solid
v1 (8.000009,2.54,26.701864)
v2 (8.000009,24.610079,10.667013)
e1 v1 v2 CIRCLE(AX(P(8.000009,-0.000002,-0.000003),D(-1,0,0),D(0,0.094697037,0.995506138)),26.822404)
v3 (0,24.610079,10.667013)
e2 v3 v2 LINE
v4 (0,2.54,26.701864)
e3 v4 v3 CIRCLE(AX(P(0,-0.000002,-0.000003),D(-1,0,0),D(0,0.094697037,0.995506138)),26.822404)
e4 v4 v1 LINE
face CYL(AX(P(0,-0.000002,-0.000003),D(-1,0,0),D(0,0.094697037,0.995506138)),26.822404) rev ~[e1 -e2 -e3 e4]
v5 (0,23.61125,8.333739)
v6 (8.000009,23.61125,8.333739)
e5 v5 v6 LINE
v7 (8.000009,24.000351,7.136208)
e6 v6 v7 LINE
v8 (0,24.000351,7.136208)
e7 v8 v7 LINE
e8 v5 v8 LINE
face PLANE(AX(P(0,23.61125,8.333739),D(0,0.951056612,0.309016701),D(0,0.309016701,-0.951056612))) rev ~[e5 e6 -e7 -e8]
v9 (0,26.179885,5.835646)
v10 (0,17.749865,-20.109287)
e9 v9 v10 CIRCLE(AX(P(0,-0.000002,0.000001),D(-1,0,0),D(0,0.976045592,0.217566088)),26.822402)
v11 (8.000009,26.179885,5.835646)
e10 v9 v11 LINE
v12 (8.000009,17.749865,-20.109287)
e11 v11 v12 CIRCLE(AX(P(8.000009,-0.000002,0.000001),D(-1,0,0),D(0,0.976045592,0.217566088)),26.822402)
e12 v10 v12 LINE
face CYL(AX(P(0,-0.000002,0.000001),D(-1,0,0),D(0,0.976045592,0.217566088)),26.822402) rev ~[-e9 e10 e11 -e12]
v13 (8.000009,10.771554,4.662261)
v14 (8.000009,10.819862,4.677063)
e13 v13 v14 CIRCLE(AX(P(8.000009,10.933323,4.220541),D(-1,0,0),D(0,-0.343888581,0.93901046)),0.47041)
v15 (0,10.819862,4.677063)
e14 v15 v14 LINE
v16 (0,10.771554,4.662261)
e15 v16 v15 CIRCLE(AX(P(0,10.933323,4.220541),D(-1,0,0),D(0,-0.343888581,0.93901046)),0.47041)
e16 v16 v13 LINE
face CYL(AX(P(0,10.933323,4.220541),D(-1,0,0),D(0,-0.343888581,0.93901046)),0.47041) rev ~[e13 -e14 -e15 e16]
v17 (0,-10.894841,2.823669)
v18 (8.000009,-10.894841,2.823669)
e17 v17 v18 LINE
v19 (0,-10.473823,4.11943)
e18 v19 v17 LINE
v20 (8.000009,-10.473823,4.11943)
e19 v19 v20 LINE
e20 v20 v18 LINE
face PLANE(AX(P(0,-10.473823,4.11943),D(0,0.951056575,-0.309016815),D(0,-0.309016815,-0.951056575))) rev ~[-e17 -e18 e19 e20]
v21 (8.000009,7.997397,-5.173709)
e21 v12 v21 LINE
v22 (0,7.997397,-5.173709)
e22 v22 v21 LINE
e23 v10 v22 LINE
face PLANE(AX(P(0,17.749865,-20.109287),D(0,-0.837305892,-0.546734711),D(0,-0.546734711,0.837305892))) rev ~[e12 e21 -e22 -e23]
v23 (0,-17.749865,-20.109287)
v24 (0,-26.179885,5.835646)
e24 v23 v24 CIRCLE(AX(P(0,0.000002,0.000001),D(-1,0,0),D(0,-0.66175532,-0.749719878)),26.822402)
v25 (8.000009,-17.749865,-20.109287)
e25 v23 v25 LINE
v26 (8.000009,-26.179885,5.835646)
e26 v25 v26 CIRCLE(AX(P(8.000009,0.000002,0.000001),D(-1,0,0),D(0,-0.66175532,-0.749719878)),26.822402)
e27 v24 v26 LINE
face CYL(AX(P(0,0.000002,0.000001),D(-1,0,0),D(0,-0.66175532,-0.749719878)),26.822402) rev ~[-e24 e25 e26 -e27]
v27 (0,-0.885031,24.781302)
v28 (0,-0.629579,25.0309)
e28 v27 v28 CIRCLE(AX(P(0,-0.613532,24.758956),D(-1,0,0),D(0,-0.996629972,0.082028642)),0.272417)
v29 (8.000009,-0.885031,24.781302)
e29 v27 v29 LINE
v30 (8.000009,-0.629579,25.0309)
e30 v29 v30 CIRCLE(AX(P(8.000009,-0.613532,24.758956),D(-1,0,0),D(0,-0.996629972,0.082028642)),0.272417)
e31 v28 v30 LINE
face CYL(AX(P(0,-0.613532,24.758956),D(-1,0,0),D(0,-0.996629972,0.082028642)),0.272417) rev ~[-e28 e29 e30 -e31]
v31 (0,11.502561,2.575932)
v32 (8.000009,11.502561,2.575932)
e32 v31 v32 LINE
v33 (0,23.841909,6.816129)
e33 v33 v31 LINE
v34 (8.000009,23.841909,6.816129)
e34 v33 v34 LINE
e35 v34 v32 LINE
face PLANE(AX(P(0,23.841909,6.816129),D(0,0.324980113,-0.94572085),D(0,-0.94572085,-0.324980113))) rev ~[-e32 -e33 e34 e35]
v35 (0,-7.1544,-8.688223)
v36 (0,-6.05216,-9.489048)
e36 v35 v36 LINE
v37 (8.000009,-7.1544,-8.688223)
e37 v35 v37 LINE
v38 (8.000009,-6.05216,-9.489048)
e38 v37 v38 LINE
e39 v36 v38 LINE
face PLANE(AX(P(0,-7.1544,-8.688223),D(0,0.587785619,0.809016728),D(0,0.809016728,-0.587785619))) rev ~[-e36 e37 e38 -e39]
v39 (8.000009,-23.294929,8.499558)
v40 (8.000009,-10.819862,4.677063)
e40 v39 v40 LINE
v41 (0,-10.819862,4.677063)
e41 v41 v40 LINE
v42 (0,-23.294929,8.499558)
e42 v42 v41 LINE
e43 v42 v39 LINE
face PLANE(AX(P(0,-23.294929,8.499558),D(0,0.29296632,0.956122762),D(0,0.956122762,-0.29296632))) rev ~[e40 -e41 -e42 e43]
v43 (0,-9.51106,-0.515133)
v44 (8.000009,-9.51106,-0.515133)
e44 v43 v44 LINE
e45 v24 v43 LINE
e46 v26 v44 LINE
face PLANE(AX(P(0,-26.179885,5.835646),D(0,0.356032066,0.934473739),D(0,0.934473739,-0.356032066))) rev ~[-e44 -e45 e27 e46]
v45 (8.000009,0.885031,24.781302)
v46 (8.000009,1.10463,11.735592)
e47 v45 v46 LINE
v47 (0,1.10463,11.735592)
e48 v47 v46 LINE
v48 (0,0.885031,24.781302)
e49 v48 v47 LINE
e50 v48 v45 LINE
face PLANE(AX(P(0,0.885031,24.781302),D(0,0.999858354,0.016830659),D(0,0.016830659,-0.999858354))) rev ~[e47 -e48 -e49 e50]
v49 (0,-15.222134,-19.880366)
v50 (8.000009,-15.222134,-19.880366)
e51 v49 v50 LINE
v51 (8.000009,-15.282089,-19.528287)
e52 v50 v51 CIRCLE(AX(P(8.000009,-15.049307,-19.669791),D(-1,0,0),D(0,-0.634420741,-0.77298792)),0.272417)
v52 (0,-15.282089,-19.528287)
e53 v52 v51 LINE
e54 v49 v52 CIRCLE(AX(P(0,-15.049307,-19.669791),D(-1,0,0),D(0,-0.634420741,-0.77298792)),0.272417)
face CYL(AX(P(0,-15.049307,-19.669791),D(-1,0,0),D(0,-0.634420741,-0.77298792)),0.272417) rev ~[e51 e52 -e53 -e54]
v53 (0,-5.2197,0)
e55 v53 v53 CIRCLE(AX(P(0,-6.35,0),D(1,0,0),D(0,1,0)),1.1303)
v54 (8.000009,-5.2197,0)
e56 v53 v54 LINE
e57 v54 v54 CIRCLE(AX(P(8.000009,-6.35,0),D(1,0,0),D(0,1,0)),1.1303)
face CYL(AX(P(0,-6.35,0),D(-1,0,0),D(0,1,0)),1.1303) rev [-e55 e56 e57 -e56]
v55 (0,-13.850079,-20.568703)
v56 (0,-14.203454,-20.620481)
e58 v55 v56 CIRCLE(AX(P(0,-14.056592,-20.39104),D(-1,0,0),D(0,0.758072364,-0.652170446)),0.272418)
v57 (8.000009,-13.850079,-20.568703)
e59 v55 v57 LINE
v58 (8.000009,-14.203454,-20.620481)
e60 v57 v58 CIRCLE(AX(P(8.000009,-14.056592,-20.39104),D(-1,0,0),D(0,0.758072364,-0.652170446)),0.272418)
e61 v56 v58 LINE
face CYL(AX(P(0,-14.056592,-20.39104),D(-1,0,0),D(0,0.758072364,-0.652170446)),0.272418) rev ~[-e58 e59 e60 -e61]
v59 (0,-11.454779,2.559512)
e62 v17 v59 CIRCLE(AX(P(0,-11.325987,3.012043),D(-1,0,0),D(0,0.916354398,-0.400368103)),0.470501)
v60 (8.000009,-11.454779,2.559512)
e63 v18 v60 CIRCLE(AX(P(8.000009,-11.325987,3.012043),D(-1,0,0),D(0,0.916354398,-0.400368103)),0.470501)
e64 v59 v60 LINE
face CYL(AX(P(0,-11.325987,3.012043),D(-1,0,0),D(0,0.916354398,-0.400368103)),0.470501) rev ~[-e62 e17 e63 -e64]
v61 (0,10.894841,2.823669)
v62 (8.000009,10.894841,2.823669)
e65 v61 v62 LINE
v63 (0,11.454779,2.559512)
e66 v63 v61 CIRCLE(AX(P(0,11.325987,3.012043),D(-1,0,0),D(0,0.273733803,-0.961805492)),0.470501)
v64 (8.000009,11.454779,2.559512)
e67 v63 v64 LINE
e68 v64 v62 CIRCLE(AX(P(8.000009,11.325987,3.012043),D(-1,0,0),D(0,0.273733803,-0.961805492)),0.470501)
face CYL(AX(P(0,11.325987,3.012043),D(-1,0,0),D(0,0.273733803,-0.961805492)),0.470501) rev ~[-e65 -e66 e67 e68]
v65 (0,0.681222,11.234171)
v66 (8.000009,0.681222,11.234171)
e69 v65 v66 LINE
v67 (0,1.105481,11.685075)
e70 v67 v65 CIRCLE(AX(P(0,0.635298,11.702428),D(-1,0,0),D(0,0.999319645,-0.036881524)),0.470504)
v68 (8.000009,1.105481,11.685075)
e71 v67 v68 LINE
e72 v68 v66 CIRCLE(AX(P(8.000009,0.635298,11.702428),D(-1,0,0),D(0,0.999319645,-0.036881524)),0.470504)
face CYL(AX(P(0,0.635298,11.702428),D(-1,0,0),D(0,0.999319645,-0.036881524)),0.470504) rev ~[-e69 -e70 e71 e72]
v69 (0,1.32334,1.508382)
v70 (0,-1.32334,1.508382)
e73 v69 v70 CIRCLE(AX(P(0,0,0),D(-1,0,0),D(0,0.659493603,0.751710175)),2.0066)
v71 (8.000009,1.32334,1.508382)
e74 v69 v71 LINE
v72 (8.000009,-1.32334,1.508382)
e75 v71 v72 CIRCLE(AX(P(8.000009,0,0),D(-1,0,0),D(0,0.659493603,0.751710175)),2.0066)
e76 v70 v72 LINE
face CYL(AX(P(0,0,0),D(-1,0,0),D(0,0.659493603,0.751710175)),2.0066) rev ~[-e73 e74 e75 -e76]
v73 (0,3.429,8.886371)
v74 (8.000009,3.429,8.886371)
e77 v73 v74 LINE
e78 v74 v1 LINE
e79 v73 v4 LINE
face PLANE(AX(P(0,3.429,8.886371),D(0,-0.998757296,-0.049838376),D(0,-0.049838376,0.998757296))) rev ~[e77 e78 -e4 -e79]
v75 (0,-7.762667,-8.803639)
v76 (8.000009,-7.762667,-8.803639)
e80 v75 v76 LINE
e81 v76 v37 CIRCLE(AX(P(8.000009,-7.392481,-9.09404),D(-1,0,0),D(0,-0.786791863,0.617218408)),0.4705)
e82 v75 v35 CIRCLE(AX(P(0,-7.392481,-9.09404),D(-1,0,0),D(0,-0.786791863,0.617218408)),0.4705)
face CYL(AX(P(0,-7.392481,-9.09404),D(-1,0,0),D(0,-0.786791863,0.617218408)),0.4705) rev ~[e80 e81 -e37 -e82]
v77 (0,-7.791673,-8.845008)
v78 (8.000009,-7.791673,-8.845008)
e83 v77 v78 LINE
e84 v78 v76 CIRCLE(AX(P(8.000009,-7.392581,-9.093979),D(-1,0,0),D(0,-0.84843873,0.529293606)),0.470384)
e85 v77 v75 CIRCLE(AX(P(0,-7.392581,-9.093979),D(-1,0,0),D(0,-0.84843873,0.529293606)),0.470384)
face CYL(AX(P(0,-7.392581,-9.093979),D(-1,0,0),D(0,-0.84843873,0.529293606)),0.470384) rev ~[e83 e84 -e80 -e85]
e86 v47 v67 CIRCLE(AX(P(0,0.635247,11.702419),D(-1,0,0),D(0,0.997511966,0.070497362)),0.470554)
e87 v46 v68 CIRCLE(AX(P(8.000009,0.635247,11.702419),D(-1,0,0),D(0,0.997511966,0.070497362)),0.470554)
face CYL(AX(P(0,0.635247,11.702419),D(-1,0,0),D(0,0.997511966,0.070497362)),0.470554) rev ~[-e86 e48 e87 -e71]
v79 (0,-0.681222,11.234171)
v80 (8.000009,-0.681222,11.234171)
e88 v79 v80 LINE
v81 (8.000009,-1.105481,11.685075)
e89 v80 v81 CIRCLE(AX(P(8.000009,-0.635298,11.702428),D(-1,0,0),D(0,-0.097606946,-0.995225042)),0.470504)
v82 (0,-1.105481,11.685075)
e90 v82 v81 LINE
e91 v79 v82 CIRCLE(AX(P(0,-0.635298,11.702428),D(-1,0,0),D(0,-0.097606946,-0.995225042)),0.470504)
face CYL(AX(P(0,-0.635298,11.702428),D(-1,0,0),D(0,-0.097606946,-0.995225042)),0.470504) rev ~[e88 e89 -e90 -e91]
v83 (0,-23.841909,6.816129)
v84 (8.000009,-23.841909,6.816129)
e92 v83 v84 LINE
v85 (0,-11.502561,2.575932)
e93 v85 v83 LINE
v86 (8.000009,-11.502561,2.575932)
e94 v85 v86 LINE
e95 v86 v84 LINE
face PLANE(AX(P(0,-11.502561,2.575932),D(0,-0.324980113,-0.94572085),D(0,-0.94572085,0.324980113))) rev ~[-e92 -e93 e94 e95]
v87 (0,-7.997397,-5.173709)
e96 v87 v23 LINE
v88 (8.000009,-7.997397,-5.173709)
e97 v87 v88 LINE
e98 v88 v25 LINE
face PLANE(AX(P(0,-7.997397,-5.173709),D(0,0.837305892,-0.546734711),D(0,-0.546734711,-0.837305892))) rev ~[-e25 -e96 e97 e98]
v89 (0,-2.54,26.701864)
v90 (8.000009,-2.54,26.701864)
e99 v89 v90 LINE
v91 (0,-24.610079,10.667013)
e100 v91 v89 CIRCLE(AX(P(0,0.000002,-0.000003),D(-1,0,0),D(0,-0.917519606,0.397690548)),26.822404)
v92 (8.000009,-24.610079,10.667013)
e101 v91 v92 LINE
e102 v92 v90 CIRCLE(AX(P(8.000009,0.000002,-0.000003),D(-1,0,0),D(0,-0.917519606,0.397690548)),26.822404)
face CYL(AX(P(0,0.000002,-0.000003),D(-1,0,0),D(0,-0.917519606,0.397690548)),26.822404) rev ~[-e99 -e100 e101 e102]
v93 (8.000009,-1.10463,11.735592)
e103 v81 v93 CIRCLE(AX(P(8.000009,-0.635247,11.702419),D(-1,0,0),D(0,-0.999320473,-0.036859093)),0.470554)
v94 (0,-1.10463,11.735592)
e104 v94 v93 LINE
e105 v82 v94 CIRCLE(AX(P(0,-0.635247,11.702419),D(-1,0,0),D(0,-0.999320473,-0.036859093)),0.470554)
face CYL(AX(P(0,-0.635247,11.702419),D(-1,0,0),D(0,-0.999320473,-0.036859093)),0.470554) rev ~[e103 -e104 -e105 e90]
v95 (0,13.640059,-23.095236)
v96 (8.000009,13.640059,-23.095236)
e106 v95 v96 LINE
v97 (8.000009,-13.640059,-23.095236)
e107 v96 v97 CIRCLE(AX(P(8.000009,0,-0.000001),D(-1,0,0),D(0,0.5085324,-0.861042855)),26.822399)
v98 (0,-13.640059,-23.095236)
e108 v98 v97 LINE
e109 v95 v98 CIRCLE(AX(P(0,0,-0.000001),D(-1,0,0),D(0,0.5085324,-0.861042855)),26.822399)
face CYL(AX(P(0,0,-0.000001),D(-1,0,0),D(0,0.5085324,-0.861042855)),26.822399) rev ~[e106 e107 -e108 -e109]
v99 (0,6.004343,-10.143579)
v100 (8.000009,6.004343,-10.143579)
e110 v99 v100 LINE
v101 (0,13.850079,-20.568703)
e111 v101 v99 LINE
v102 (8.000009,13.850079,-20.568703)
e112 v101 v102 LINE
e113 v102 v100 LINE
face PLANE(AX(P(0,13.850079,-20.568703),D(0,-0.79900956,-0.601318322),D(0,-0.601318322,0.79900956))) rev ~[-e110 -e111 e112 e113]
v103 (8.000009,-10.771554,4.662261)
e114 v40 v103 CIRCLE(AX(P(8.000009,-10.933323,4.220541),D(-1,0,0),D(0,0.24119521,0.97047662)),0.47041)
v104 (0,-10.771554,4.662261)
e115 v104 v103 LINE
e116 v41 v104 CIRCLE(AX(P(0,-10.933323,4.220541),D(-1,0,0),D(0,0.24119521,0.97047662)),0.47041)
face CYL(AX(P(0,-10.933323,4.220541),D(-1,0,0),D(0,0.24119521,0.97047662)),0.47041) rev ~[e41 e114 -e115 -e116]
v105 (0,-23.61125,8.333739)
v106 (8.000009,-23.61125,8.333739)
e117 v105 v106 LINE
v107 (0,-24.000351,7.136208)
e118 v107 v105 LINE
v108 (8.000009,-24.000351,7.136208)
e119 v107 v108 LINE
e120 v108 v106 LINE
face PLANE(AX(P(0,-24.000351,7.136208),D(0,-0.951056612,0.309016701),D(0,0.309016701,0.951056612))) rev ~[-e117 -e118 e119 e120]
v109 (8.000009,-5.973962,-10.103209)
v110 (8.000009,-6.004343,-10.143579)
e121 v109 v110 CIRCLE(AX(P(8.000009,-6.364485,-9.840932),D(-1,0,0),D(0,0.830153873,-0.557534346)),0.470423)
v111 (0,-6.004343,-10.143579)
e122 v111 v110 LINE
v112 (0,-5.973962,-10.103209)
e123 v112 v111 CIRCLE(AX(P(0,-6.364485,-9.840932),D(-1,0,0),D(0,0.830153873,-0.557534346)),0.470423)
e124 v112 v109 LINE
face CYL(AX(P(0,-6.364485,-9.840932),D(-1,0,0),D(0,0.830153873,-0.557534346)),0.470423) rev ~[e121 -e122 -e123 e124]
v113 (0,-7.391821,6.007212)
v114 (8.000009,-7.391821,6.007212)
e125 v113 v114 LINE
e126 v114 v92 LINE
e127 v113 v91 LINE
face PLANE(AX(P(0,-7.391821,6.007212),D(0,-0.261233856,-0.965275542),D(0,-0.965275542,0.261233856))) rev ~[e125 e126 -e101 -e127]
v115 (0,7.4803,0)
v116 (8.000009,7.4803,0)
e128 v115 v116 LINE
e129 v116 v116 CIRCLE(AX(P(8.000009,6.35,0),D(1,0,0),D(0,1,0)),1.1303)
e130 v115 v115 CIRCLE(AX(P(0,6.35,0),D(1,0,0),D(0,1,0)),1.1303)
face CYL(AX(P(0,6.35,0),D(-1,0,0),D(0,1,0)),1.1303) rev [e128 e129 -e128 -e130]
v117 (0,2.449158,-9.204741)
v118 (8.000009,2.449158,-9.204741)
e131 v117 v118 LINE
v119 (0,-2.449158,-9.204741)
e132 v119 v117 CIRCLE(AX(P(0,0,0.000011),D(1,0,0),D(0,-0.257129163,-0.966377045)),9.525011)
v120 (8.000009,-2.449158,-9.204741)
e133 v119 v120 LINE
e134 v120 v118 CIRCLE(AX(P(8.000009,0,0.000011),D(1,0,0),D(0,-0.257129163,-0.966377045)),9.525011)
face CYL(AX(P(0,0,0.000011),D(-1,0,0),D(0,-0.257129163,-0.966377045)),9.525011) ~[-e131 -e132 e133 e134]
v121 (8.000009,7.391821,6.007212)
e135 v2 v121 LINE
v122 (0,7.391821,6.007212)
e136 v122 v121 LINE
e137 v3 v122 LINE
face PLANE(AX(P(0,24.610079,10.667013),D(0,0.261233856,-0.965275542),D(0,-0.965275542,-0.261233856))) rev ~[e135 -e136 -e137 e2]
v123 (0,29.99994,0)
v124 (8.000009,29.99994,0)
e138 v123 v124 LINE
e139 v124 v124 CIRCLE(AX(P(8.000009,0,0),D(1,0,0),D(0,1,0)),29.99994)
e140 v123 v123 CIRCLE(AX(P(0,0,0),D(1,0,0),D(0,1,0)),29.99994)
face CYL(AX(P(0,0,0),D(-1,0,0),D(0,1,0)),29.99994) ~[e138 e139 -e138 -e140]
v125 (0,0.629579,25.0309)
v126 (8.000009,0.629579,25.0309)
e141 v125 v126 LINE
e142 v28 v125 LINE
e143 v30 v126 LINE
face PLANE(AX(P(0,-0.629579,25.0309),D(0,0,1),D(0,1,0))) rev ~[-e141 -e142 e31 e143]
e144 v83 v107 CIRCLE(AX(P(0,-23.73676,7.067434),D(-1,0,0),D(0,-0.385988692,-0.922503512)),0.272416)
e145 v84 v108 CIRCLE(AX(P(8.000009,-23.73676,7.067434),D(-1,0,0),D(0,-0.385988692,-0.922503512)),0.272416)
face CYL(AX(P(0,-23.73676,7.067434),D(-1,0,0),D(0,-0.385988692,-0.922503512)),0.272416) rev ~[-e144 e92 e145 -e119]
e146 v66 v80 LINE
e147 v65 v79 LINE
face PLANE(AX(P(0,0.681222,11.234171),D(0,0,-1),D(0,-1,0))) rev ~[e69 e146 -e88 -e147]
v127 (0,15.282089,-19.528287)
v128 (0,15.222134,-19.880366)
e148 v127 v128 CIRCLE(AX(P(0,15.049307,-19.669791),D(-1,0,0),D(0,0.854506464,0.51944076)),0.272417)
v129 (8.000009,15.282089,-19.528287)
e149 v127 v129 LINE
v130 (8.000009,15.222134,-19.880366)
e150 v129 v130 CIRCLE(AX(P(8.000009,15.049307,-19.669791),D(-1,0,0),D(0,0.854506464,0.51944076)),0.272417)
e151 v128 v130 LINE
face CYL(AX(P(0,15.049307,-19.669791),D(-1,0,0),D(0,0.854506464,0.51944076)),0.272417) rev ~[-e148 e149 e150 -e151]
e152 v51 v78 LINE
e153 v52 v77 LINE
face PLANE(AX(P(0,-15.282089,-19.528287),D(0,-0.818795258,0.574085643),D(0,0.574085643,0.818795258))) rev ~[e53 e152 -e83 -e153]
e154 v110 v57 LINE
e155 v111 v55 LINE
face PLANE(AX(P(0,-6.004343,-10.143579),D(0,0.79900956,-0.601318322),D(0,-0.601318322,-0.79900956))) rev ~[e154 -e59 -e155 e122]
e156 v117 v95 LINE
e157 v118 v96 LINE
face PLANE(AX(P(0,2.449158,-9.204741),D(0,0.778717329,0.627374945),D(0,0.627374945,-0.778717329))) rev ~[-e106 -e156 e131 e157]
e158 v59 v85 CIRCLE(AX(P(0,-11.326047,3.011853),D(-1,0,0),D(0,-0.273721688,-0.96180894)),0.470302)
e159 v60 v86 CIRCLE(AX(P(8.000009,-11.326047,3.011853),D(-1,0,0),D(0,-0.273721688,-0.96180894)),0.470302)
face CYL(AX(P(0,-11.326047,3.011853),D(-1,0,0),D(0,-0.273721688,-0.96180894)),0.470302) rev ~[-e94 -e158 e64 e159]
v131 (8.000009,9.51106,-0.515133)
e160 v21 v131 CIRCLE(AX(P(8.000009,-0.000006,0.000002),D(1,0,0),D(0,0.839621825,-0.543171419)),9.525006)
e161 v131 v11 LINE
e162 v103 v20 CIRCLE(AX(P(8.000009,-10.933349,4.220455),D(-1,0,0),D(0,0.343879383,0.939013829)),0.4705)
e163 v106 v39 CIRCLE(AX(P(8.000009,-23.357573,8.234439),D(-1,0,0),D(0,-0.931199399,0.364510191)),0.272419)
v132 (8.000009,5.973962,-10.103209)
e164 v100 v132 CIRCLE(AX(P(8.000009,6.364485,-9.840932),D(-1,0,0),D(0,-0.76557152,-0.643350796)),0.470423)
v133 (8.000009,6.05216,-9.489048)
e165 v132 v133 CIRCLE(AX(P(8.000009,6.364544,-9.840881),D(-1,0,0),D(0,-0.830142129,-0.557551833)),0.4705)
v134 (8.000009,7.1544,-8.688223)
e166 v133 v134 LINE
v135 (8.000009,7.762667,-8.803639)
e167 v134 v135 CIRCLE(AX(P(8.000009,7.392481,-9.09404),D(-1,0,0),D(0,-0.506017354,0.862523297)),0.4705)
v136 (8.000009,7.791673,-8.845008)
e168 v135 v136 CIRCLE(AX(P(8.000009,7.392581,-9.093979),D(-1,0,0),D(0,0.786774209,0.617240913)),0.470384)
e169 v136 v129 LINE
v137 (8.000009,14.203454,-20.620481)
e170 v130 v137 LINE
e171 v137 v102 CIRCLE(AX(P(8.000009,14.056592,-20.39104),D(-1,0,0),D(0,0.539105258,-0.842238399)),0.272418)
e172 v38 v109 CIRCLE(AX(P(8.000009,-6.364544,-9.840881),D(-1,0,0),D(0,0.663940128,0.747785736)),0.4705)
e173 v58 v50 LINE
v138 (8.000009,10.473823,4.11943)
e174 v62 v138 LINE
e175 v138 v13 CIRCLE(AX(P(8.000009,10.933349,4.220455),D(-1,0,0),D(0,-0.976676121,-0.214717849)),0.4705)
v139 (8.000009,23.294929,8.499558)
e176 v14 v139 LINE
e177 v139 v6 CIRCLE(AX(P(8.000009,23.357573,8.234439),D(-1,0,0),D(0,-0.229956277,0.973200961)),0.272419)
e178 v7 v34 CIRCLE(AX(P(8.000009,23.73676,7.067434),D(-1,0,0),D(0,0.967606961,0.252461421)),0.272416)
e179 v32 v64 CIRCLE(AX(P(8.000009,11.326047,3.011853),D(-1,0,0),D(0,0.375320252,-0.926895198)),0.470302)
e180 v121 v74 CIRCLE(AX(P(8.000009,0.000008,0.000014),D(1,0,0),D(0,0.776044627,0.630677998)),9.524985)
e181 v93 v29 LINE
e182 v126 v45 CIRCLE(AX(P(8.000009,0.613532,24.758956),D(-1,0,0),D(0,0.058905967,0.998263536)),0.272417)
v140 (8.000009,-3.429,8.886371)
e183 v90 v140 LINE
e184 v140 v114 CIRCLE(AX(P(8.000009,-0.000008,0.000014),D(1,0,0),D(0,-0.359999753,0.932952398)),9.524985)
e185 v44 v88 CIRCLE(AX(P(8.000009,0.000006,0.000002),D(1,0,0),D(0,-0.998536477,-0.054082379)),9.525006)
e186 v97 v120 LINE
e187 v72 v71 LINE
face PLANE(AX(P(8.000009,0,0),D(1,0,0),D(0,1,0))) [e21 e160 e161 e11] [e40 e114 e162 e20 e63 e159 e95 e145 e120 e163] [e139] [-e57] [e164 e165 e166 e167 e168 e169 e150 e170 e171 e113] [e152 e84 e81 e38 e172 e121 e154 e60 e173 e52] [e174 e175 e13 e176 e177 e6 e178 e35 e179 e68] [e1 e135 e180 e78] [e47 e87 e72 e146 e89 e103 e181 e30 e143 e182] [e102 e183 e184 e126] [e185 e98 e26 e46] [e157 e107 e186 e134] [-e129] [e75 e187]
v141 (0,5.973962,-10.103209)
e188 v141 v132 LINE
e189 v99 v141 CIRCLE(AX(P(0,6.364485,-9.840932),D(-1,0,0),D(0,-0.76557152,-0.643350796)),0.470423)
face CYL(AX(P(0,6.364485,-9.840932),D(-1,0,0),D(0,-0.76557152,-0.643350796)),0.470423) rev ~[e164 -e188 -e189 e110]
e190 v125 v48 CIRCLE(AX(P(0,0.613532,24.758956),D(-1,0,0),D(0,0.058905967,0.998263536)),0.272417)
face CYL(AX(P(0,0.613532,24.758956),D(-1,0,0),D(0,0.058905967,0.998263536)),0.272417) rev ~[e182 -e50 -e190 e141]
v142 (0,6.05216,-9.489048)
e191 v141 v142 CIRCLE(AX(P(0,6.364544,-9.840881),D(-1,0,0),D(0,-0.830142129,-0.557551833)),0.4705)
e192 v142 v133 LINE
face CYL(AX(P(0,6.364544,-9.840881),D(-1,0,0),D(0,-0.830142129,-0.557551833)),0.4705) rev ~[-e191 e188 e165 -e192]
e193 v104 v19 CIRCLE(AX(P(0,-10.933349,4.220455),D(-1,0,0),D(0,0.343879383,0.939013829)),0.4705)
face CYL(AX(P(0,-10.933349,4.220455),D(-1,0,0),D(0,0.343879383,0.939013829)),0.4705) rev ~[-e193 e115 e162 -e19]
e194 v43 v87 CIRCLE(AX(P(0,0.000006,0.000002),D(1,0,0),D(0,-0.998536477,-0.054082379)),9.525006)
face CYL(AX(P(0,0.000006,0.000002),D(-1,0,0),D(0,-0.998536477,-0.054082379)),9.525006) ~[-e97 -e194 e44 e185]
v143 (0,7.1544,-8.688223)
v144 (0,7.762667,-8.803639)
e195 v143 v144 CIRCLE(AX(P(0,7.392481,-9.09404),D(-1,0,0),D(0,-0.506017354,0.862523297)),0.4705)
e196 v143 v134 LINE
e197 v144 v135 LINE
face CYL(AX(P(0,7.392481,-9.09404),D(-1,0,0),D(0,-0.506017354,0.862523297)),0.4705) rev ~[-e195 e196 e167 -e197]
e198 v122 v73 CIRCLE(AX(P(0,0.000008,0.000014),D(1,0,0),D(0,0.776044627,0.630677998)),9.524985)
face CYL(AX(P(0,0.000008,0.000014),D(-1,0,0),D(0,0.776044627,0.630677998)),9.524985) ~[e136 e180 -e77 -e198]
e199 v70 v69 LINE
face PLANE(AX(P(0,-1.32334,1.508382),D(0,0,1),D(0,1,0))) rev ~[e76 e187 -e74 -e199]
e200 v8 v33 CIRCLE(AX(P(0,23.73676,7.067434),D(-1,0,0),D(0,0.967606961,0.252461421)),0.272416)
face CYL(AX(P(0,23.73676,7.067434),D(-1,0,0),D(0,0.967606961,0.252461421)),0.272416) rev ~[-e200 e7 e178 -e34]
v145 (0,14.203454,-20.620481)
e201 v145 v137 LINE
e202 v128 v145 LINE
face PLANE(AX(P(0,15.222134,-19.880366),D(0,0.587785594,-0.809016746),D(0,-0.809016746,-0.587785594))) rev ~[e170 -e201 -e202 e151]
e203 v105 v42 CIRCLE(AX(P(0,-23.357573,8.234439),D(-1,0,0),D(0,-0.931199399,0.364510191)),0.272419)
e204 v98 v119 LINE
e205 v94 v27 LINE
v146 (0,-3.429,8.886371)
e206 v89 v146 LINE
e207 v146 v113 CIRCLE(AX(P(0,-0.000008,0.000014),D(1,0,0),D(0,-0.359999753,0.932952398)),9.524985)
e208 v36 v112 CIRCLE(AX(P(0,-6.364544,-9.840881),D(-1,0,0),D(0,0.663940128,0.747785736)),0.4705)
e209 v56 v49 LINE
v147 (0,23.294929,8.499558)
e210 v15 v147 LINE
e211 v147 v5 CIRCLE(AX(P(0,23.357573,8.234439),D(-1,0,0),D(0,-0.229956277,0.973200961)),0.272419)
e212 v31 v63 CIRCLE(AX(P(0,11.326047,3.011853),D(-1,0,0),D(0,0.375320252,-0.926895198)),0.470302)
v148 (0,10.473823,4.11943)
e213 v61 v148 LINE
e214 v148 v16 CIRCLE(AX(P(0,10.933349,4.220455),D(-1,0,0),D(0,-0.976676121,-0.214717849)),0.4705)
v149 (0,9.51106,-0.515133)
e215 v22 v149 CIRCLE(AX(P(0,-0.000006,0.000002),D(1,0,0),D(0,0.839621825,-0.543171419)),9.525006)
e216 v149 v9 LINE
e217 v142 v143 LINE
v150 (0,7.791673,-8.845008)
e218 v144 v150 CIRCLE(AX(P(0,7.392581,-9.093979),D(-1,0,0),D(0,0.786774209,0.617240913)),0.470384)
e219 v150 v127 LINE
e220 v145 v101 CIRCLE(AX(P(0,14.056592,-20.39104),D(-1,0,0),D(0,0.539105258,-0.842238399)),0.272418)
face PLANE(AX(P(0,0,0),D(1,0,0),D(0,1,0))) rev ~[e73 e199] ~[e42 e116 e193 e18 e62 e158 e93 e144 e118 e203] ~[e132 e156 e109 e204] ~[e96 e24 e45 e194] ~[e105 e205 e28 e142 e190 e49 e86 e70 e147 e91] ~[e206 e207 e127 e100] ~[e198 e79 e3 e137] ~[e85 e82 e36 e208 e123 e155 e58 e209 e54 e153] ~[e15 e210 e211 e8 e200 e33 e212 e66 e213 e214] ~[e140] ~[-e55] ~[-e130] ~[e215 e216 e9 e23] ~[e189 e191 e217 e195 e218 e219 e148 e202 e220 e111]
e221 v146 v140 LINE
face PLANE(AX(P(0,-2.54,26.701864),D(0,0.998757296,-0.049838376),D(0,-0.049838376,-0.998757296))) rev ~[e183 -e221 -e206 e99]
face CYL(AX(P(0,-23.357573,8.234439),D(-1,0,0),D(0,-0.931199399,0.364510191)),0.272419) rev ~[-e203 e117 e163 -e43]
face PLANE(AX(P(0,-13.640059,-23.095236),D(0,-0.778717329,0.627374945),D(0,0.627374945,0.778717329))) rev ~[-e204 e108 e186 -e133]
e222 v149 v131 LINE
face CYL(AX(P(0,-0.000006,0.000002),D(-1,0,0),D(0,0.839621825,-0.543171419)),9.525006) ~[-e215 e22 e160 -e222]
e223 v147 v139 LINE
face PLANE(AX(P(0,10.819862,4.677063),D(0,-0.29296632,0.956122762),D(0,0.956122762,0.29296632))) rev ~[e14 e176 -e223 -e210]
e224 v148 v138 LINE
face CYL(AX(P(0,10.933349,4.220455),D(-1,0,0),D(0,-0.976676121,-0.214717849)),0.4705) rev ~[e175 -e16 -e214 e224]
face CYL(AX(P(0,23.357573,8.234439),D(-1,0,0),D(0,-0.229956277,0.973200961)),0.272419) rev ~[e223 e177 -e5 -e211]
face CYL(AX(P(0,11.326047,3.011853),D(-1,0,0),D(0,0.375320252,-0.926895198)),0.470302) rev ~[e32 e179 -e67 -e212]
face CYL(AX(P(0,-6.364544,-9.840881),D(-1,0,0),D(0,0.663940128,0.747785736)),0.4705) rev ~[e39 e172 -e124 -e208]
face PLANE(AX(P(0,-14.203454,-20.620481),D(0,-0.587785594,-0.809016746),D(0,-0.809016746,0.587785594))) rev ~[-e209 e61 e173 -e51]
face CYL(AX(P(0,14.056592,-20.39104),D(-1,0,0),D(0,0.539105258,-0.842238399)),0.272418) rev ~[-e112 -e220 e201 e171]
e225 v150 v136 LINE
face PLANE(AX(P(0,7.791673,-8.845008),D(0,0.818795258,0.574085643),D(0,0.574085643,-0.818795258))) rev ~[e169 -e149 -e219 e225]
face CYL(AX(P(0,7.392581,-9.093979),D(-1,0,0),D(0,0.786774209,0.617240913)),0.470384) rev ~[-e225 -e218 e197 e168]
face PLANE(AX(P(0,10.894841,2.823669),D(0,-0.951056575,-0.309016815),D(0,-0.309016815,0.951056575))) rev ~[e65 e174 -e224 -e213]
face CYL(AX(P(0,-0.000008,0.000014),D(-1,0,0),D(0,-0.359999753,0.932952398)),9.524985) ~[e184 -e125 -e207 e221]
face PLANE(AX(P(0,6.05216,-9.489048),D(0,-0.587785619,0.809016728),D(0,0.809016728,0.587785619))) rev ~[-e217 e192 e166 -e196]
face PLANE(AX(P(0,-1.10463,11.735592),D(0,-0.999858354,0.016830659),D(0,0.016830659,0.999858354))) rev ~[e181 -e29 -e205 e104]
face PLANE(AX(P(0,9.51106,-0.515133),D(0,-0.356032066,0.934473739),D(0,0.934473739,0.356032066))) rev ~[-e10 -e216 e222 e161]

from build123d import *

# Parameters (mm, degrees)
F0_R     = 29.99994
F0_R_2   = 1.1303
F1_DEPTH = 8.000009


with BuildPart() as f1:
    # F0 (on Right) → F1 (new body)
    with BuildSketch(Plane.YZ):
        Circle(F0_R)
        with BuildLine():
            Line((-13.640059, -23.095236), (-2.449158, -9.204741))
            ThreePointArc((-2.449158, -9.204741), (0, -9.525), (2.449158, -9.204741))
            Line((2.449158, -9.204741), (13.640059, -23.095236))
            ThreePointArc((13.640059, -23.095236), (0, -26.8224), (-13.640059, -23.095236))
        make_face(mode=Mode.SUBTRACT)
        with BuildLine():
            Line((-26.179885, 5.835646), (-9.51106, -0.515133))
            ThreePointArc((-9.51106, -0.515133), (-9.058813, -2.943387), (-7.997397, -5.173709))
            Line((-7.997397, -5.173709), (-17.749865, -20.109287))
            ThreePointArc((-17.749865, -20.109287), (-25.509618, -8.288577), (-26.179885, 5.835646))
        make_face(mode=Mode.SUBTRACT)
        with BuildLine():
            ThreePointArc((-6.05216, -9.489048), (-5.897812, -9.781454), (-5.973962, -10.103209))
            ThreePointArc((-5.973962, -10.103209), (-5.98861, -10.123802), (-6.004343, -10.143579))
            Line((-6.004343, -10.143579), (-13.850079, -20.568703))
            ThreePointArc((-13.850079, -20.568703), (-14.017097, -20.66058), (-14.203454, -20.620481))
            Line((-14.203454, -20.620481), (-15.222134, -19.880366))
            ThreePointArc((-15.222134, -19.880366), (-15.317858, -19.715522), (-15.282089, -19.528287))
            Line((-15.282089, -19.528287), (-7.791673, -8.845008))
            ThreePointArc((-7.791673, -8.845008), (-7.777726, -8.823934), (-7.762667, -8.803639))
            ThreePointArc((-7.762667, -8.803639), (-7.480192, -8.631788), (-7.1544, -8.688223))
            Line((-7.1544, -8.688223), (-6.05216, -9.489048))
        make_face(mode=Mode.SUBTRACT)
        with BuildLine():
            ThreePointArc((7.1544, -8.688223), (7.480192, -8.631788), (7.762667, -8.803639))
            ThreePointArc((7.762667, -8.803639), (7.777726, -8.823934), (7.791673, -8.845008))
            Line((7.791673, -8.845008), (15.282089, -19.528287))
            ThreePointArc((15.282089, -19.528287), (15.317858, -19.715522), (15.222134, -19.880366))
            Line((15.222134, -19.880366), (14.203454, -20.620481))
            ThreePointArc((14.203454, -20.620481), (14.017097, -20.66058), (13.850079, -20.568703))
            Line((13.850079, -20.568703), (6.004343, -10.143579))
            ThreePointArc((6.004343, -10.143579), (5.98861, -10.123802), (5.973962, -10.103209))
            ThreePointArc((5.973962, -10.103209), (5.897812, -9.781454), (6.05216, -9.489048))
            Line((6.05216, -9.489048), (7.1544, -8.688223))
        make_face(mode=Mode.SUBTRACT)
        with BuildLine():
            ThreePointArc((1.32334, 1.508382), (0, -2.0066), (-1.32334, 1.508382))
            Line((-1.32334, 1.508382), (1.32334, 1.508382))
        make_face(mode=Mode.SUBTRACT)
        with BuildLine():
            Line((17.749865, -20.109287), (7.997397, -5.173709))
            ThreePointArc((7.997397, -5.173709), (9.058813, -2.943387), (9.51106, -0.515133))
            Line((9.51106, -0.515133), (26.179885, 5.835646))
            ThreePointArc((26.179885, 5.835646), (25.509618, -8.288577), (17.749865, -20.109287))
        make_face(mode=Mode.SUBTRACT)
        with BuildLine():
            ThreePointArc((-10.894841, 2.823669), (-11.12524, 2.586517), (-11.454779, 2.559512))
            ThreePointArc((-11.454779, 2.559512), (-11.478891, 2.56708), (-11.502561, 2.575932))
            Line((-11.502561, 2.575932), (-23.841909, 6.816129))
            ThreePointArc((-23.841909, 6.816129), (-23.980901, 6.946581), (-24.000351, 7.136208))
            Line((-24.000351, 7.136208), (-23.61125, 8.333739))
            ThreePointArc((-23.61125, 8.333739), (-23.484054, 8.475717), (-23.294929, 8.499558))
            Line((-23.294929, 8.499558), (-10.819862, 4.677063))
            ThreePointArc((-10.819862, 4.677063), (-10.795509, 4.670311), (-10.771554, 4.662261))
            ThreePointArc((-10.771554, 4.662261), (-10.520825, 4.446716), (-10.473823, 4.11943))
            Line((-10.473823, 4.11943), (-10.894841, 2.823669))
        make_face(mode=Mode.SUBTRACT)
        with Locations((-6.35, 0)):
            Circle(F0_R_2, mode=Mode.SUBTRACT)
        with BuildLine():
            ThreePointArc((-24.610079, 10.667013), (-15.765811, 21.699777), (-2.54, 26.701864))
            Line((-2.54, 26.701864), (-3.429, 8.886371))
            ThreePointArc((-3.429, 8.886371), (-5.598655, 7.705887), (-7.391821, 6.007212))
            Line((-7.391821, 6.007212), (-24.610079, 10.667013))
        make_face(mode=Mode.SUBTRACT)
        with Locations((6.35, 0)):
            Circle(F0_R_2, mode=Mode.SUBTRACT)
        with BuildLine():
            ThreePointArc((10.473823, 4.11943), (10.520825, 4.446716), (10.771554, 4.662261))
            ThreePointArc((10.771554, 4.662261), (10.795509, 4.670311), (10.819862, 4.677063))
            Line((10.819862, 4.677063), (23.294929, 8.499558))
            ThreePointArc((23.294929, 8.499558), (23.484054, 8.475717), (23.61125, 8.333739))
            Line((23.61125, 8.333739), (24.000351, 7.136208))
            ThreePointArc((24.000351, 7.136208), (23.980901, 6.946581), (23.841909, 6.816129))
            Line((23.841909, 6.816129), (11.502561, 2.575932))
            ThreePointArc((11.502561, 2.575932), (11.478891, 2.56708), (11.454779, 2.559512))
            ThreePointArc((11.454779, 2.559512), (11.12524, 2.586517), (10.894841, 2.823669))
            Line((10.894841, 2.823669), (10.473823, 4.11943))
        make_face(mode=Mode.SUBTRACT)
        with BuildLine():
            Line((0.681222, 11.234171), (-0.681222, 11.234171))
            ThreePointArc((-0.681222, 11.234171), (-0.977964, 11.38001), (-1.105481, 11.685075))
            ThreePointArc((-1.105481, 11.685075), (-1.105734, 11.710345), (-1.10463, 11.735592))
            Line((-1.10463, 11.735592), (-0.885031, 24.781302))
            ThreePointArc((-0.885031, 24.781302), (-0.803914, 24.953804), (-0.629579, 25.0309))
            Line((-0.629579, 25.0309), (0.629579, 25.0309))
            ThreePointArc((0.629579, 25.0309), (0.803914, 24.953804), (0.885031, 24.781302))
            Line((0.885031, 24.781302), (1.10463, 11.735592))
            ThreePointArc((1.10463, 11.735592), (1.105734, 11.710345), (1.105481, 11.685075))
            ThreePointArc((1.105481, 11.685075), (0.977964, 11.38001), (0.681222, 11.234171))
        make_face(mode=Mode.SUBTRACT)
        with BuildLine():
            Line((3.429, 8.886371), (2.54, 26.701864))
            ThreePointArc((2.54, 26.701864), (15.765811, 21.699777), (24.610079, 10.667013))
            Line((24.610079, 10.667013), (7.391821, 6.007212))
            ThreePointArc((7.391821, 6.007212), (5.598655, 7.705887), (3.429, 8.886371))
        make_face(mode=Mode.SUBTRACT)
    extrude(amount=F1_DEPTH)


solid = f1.part
